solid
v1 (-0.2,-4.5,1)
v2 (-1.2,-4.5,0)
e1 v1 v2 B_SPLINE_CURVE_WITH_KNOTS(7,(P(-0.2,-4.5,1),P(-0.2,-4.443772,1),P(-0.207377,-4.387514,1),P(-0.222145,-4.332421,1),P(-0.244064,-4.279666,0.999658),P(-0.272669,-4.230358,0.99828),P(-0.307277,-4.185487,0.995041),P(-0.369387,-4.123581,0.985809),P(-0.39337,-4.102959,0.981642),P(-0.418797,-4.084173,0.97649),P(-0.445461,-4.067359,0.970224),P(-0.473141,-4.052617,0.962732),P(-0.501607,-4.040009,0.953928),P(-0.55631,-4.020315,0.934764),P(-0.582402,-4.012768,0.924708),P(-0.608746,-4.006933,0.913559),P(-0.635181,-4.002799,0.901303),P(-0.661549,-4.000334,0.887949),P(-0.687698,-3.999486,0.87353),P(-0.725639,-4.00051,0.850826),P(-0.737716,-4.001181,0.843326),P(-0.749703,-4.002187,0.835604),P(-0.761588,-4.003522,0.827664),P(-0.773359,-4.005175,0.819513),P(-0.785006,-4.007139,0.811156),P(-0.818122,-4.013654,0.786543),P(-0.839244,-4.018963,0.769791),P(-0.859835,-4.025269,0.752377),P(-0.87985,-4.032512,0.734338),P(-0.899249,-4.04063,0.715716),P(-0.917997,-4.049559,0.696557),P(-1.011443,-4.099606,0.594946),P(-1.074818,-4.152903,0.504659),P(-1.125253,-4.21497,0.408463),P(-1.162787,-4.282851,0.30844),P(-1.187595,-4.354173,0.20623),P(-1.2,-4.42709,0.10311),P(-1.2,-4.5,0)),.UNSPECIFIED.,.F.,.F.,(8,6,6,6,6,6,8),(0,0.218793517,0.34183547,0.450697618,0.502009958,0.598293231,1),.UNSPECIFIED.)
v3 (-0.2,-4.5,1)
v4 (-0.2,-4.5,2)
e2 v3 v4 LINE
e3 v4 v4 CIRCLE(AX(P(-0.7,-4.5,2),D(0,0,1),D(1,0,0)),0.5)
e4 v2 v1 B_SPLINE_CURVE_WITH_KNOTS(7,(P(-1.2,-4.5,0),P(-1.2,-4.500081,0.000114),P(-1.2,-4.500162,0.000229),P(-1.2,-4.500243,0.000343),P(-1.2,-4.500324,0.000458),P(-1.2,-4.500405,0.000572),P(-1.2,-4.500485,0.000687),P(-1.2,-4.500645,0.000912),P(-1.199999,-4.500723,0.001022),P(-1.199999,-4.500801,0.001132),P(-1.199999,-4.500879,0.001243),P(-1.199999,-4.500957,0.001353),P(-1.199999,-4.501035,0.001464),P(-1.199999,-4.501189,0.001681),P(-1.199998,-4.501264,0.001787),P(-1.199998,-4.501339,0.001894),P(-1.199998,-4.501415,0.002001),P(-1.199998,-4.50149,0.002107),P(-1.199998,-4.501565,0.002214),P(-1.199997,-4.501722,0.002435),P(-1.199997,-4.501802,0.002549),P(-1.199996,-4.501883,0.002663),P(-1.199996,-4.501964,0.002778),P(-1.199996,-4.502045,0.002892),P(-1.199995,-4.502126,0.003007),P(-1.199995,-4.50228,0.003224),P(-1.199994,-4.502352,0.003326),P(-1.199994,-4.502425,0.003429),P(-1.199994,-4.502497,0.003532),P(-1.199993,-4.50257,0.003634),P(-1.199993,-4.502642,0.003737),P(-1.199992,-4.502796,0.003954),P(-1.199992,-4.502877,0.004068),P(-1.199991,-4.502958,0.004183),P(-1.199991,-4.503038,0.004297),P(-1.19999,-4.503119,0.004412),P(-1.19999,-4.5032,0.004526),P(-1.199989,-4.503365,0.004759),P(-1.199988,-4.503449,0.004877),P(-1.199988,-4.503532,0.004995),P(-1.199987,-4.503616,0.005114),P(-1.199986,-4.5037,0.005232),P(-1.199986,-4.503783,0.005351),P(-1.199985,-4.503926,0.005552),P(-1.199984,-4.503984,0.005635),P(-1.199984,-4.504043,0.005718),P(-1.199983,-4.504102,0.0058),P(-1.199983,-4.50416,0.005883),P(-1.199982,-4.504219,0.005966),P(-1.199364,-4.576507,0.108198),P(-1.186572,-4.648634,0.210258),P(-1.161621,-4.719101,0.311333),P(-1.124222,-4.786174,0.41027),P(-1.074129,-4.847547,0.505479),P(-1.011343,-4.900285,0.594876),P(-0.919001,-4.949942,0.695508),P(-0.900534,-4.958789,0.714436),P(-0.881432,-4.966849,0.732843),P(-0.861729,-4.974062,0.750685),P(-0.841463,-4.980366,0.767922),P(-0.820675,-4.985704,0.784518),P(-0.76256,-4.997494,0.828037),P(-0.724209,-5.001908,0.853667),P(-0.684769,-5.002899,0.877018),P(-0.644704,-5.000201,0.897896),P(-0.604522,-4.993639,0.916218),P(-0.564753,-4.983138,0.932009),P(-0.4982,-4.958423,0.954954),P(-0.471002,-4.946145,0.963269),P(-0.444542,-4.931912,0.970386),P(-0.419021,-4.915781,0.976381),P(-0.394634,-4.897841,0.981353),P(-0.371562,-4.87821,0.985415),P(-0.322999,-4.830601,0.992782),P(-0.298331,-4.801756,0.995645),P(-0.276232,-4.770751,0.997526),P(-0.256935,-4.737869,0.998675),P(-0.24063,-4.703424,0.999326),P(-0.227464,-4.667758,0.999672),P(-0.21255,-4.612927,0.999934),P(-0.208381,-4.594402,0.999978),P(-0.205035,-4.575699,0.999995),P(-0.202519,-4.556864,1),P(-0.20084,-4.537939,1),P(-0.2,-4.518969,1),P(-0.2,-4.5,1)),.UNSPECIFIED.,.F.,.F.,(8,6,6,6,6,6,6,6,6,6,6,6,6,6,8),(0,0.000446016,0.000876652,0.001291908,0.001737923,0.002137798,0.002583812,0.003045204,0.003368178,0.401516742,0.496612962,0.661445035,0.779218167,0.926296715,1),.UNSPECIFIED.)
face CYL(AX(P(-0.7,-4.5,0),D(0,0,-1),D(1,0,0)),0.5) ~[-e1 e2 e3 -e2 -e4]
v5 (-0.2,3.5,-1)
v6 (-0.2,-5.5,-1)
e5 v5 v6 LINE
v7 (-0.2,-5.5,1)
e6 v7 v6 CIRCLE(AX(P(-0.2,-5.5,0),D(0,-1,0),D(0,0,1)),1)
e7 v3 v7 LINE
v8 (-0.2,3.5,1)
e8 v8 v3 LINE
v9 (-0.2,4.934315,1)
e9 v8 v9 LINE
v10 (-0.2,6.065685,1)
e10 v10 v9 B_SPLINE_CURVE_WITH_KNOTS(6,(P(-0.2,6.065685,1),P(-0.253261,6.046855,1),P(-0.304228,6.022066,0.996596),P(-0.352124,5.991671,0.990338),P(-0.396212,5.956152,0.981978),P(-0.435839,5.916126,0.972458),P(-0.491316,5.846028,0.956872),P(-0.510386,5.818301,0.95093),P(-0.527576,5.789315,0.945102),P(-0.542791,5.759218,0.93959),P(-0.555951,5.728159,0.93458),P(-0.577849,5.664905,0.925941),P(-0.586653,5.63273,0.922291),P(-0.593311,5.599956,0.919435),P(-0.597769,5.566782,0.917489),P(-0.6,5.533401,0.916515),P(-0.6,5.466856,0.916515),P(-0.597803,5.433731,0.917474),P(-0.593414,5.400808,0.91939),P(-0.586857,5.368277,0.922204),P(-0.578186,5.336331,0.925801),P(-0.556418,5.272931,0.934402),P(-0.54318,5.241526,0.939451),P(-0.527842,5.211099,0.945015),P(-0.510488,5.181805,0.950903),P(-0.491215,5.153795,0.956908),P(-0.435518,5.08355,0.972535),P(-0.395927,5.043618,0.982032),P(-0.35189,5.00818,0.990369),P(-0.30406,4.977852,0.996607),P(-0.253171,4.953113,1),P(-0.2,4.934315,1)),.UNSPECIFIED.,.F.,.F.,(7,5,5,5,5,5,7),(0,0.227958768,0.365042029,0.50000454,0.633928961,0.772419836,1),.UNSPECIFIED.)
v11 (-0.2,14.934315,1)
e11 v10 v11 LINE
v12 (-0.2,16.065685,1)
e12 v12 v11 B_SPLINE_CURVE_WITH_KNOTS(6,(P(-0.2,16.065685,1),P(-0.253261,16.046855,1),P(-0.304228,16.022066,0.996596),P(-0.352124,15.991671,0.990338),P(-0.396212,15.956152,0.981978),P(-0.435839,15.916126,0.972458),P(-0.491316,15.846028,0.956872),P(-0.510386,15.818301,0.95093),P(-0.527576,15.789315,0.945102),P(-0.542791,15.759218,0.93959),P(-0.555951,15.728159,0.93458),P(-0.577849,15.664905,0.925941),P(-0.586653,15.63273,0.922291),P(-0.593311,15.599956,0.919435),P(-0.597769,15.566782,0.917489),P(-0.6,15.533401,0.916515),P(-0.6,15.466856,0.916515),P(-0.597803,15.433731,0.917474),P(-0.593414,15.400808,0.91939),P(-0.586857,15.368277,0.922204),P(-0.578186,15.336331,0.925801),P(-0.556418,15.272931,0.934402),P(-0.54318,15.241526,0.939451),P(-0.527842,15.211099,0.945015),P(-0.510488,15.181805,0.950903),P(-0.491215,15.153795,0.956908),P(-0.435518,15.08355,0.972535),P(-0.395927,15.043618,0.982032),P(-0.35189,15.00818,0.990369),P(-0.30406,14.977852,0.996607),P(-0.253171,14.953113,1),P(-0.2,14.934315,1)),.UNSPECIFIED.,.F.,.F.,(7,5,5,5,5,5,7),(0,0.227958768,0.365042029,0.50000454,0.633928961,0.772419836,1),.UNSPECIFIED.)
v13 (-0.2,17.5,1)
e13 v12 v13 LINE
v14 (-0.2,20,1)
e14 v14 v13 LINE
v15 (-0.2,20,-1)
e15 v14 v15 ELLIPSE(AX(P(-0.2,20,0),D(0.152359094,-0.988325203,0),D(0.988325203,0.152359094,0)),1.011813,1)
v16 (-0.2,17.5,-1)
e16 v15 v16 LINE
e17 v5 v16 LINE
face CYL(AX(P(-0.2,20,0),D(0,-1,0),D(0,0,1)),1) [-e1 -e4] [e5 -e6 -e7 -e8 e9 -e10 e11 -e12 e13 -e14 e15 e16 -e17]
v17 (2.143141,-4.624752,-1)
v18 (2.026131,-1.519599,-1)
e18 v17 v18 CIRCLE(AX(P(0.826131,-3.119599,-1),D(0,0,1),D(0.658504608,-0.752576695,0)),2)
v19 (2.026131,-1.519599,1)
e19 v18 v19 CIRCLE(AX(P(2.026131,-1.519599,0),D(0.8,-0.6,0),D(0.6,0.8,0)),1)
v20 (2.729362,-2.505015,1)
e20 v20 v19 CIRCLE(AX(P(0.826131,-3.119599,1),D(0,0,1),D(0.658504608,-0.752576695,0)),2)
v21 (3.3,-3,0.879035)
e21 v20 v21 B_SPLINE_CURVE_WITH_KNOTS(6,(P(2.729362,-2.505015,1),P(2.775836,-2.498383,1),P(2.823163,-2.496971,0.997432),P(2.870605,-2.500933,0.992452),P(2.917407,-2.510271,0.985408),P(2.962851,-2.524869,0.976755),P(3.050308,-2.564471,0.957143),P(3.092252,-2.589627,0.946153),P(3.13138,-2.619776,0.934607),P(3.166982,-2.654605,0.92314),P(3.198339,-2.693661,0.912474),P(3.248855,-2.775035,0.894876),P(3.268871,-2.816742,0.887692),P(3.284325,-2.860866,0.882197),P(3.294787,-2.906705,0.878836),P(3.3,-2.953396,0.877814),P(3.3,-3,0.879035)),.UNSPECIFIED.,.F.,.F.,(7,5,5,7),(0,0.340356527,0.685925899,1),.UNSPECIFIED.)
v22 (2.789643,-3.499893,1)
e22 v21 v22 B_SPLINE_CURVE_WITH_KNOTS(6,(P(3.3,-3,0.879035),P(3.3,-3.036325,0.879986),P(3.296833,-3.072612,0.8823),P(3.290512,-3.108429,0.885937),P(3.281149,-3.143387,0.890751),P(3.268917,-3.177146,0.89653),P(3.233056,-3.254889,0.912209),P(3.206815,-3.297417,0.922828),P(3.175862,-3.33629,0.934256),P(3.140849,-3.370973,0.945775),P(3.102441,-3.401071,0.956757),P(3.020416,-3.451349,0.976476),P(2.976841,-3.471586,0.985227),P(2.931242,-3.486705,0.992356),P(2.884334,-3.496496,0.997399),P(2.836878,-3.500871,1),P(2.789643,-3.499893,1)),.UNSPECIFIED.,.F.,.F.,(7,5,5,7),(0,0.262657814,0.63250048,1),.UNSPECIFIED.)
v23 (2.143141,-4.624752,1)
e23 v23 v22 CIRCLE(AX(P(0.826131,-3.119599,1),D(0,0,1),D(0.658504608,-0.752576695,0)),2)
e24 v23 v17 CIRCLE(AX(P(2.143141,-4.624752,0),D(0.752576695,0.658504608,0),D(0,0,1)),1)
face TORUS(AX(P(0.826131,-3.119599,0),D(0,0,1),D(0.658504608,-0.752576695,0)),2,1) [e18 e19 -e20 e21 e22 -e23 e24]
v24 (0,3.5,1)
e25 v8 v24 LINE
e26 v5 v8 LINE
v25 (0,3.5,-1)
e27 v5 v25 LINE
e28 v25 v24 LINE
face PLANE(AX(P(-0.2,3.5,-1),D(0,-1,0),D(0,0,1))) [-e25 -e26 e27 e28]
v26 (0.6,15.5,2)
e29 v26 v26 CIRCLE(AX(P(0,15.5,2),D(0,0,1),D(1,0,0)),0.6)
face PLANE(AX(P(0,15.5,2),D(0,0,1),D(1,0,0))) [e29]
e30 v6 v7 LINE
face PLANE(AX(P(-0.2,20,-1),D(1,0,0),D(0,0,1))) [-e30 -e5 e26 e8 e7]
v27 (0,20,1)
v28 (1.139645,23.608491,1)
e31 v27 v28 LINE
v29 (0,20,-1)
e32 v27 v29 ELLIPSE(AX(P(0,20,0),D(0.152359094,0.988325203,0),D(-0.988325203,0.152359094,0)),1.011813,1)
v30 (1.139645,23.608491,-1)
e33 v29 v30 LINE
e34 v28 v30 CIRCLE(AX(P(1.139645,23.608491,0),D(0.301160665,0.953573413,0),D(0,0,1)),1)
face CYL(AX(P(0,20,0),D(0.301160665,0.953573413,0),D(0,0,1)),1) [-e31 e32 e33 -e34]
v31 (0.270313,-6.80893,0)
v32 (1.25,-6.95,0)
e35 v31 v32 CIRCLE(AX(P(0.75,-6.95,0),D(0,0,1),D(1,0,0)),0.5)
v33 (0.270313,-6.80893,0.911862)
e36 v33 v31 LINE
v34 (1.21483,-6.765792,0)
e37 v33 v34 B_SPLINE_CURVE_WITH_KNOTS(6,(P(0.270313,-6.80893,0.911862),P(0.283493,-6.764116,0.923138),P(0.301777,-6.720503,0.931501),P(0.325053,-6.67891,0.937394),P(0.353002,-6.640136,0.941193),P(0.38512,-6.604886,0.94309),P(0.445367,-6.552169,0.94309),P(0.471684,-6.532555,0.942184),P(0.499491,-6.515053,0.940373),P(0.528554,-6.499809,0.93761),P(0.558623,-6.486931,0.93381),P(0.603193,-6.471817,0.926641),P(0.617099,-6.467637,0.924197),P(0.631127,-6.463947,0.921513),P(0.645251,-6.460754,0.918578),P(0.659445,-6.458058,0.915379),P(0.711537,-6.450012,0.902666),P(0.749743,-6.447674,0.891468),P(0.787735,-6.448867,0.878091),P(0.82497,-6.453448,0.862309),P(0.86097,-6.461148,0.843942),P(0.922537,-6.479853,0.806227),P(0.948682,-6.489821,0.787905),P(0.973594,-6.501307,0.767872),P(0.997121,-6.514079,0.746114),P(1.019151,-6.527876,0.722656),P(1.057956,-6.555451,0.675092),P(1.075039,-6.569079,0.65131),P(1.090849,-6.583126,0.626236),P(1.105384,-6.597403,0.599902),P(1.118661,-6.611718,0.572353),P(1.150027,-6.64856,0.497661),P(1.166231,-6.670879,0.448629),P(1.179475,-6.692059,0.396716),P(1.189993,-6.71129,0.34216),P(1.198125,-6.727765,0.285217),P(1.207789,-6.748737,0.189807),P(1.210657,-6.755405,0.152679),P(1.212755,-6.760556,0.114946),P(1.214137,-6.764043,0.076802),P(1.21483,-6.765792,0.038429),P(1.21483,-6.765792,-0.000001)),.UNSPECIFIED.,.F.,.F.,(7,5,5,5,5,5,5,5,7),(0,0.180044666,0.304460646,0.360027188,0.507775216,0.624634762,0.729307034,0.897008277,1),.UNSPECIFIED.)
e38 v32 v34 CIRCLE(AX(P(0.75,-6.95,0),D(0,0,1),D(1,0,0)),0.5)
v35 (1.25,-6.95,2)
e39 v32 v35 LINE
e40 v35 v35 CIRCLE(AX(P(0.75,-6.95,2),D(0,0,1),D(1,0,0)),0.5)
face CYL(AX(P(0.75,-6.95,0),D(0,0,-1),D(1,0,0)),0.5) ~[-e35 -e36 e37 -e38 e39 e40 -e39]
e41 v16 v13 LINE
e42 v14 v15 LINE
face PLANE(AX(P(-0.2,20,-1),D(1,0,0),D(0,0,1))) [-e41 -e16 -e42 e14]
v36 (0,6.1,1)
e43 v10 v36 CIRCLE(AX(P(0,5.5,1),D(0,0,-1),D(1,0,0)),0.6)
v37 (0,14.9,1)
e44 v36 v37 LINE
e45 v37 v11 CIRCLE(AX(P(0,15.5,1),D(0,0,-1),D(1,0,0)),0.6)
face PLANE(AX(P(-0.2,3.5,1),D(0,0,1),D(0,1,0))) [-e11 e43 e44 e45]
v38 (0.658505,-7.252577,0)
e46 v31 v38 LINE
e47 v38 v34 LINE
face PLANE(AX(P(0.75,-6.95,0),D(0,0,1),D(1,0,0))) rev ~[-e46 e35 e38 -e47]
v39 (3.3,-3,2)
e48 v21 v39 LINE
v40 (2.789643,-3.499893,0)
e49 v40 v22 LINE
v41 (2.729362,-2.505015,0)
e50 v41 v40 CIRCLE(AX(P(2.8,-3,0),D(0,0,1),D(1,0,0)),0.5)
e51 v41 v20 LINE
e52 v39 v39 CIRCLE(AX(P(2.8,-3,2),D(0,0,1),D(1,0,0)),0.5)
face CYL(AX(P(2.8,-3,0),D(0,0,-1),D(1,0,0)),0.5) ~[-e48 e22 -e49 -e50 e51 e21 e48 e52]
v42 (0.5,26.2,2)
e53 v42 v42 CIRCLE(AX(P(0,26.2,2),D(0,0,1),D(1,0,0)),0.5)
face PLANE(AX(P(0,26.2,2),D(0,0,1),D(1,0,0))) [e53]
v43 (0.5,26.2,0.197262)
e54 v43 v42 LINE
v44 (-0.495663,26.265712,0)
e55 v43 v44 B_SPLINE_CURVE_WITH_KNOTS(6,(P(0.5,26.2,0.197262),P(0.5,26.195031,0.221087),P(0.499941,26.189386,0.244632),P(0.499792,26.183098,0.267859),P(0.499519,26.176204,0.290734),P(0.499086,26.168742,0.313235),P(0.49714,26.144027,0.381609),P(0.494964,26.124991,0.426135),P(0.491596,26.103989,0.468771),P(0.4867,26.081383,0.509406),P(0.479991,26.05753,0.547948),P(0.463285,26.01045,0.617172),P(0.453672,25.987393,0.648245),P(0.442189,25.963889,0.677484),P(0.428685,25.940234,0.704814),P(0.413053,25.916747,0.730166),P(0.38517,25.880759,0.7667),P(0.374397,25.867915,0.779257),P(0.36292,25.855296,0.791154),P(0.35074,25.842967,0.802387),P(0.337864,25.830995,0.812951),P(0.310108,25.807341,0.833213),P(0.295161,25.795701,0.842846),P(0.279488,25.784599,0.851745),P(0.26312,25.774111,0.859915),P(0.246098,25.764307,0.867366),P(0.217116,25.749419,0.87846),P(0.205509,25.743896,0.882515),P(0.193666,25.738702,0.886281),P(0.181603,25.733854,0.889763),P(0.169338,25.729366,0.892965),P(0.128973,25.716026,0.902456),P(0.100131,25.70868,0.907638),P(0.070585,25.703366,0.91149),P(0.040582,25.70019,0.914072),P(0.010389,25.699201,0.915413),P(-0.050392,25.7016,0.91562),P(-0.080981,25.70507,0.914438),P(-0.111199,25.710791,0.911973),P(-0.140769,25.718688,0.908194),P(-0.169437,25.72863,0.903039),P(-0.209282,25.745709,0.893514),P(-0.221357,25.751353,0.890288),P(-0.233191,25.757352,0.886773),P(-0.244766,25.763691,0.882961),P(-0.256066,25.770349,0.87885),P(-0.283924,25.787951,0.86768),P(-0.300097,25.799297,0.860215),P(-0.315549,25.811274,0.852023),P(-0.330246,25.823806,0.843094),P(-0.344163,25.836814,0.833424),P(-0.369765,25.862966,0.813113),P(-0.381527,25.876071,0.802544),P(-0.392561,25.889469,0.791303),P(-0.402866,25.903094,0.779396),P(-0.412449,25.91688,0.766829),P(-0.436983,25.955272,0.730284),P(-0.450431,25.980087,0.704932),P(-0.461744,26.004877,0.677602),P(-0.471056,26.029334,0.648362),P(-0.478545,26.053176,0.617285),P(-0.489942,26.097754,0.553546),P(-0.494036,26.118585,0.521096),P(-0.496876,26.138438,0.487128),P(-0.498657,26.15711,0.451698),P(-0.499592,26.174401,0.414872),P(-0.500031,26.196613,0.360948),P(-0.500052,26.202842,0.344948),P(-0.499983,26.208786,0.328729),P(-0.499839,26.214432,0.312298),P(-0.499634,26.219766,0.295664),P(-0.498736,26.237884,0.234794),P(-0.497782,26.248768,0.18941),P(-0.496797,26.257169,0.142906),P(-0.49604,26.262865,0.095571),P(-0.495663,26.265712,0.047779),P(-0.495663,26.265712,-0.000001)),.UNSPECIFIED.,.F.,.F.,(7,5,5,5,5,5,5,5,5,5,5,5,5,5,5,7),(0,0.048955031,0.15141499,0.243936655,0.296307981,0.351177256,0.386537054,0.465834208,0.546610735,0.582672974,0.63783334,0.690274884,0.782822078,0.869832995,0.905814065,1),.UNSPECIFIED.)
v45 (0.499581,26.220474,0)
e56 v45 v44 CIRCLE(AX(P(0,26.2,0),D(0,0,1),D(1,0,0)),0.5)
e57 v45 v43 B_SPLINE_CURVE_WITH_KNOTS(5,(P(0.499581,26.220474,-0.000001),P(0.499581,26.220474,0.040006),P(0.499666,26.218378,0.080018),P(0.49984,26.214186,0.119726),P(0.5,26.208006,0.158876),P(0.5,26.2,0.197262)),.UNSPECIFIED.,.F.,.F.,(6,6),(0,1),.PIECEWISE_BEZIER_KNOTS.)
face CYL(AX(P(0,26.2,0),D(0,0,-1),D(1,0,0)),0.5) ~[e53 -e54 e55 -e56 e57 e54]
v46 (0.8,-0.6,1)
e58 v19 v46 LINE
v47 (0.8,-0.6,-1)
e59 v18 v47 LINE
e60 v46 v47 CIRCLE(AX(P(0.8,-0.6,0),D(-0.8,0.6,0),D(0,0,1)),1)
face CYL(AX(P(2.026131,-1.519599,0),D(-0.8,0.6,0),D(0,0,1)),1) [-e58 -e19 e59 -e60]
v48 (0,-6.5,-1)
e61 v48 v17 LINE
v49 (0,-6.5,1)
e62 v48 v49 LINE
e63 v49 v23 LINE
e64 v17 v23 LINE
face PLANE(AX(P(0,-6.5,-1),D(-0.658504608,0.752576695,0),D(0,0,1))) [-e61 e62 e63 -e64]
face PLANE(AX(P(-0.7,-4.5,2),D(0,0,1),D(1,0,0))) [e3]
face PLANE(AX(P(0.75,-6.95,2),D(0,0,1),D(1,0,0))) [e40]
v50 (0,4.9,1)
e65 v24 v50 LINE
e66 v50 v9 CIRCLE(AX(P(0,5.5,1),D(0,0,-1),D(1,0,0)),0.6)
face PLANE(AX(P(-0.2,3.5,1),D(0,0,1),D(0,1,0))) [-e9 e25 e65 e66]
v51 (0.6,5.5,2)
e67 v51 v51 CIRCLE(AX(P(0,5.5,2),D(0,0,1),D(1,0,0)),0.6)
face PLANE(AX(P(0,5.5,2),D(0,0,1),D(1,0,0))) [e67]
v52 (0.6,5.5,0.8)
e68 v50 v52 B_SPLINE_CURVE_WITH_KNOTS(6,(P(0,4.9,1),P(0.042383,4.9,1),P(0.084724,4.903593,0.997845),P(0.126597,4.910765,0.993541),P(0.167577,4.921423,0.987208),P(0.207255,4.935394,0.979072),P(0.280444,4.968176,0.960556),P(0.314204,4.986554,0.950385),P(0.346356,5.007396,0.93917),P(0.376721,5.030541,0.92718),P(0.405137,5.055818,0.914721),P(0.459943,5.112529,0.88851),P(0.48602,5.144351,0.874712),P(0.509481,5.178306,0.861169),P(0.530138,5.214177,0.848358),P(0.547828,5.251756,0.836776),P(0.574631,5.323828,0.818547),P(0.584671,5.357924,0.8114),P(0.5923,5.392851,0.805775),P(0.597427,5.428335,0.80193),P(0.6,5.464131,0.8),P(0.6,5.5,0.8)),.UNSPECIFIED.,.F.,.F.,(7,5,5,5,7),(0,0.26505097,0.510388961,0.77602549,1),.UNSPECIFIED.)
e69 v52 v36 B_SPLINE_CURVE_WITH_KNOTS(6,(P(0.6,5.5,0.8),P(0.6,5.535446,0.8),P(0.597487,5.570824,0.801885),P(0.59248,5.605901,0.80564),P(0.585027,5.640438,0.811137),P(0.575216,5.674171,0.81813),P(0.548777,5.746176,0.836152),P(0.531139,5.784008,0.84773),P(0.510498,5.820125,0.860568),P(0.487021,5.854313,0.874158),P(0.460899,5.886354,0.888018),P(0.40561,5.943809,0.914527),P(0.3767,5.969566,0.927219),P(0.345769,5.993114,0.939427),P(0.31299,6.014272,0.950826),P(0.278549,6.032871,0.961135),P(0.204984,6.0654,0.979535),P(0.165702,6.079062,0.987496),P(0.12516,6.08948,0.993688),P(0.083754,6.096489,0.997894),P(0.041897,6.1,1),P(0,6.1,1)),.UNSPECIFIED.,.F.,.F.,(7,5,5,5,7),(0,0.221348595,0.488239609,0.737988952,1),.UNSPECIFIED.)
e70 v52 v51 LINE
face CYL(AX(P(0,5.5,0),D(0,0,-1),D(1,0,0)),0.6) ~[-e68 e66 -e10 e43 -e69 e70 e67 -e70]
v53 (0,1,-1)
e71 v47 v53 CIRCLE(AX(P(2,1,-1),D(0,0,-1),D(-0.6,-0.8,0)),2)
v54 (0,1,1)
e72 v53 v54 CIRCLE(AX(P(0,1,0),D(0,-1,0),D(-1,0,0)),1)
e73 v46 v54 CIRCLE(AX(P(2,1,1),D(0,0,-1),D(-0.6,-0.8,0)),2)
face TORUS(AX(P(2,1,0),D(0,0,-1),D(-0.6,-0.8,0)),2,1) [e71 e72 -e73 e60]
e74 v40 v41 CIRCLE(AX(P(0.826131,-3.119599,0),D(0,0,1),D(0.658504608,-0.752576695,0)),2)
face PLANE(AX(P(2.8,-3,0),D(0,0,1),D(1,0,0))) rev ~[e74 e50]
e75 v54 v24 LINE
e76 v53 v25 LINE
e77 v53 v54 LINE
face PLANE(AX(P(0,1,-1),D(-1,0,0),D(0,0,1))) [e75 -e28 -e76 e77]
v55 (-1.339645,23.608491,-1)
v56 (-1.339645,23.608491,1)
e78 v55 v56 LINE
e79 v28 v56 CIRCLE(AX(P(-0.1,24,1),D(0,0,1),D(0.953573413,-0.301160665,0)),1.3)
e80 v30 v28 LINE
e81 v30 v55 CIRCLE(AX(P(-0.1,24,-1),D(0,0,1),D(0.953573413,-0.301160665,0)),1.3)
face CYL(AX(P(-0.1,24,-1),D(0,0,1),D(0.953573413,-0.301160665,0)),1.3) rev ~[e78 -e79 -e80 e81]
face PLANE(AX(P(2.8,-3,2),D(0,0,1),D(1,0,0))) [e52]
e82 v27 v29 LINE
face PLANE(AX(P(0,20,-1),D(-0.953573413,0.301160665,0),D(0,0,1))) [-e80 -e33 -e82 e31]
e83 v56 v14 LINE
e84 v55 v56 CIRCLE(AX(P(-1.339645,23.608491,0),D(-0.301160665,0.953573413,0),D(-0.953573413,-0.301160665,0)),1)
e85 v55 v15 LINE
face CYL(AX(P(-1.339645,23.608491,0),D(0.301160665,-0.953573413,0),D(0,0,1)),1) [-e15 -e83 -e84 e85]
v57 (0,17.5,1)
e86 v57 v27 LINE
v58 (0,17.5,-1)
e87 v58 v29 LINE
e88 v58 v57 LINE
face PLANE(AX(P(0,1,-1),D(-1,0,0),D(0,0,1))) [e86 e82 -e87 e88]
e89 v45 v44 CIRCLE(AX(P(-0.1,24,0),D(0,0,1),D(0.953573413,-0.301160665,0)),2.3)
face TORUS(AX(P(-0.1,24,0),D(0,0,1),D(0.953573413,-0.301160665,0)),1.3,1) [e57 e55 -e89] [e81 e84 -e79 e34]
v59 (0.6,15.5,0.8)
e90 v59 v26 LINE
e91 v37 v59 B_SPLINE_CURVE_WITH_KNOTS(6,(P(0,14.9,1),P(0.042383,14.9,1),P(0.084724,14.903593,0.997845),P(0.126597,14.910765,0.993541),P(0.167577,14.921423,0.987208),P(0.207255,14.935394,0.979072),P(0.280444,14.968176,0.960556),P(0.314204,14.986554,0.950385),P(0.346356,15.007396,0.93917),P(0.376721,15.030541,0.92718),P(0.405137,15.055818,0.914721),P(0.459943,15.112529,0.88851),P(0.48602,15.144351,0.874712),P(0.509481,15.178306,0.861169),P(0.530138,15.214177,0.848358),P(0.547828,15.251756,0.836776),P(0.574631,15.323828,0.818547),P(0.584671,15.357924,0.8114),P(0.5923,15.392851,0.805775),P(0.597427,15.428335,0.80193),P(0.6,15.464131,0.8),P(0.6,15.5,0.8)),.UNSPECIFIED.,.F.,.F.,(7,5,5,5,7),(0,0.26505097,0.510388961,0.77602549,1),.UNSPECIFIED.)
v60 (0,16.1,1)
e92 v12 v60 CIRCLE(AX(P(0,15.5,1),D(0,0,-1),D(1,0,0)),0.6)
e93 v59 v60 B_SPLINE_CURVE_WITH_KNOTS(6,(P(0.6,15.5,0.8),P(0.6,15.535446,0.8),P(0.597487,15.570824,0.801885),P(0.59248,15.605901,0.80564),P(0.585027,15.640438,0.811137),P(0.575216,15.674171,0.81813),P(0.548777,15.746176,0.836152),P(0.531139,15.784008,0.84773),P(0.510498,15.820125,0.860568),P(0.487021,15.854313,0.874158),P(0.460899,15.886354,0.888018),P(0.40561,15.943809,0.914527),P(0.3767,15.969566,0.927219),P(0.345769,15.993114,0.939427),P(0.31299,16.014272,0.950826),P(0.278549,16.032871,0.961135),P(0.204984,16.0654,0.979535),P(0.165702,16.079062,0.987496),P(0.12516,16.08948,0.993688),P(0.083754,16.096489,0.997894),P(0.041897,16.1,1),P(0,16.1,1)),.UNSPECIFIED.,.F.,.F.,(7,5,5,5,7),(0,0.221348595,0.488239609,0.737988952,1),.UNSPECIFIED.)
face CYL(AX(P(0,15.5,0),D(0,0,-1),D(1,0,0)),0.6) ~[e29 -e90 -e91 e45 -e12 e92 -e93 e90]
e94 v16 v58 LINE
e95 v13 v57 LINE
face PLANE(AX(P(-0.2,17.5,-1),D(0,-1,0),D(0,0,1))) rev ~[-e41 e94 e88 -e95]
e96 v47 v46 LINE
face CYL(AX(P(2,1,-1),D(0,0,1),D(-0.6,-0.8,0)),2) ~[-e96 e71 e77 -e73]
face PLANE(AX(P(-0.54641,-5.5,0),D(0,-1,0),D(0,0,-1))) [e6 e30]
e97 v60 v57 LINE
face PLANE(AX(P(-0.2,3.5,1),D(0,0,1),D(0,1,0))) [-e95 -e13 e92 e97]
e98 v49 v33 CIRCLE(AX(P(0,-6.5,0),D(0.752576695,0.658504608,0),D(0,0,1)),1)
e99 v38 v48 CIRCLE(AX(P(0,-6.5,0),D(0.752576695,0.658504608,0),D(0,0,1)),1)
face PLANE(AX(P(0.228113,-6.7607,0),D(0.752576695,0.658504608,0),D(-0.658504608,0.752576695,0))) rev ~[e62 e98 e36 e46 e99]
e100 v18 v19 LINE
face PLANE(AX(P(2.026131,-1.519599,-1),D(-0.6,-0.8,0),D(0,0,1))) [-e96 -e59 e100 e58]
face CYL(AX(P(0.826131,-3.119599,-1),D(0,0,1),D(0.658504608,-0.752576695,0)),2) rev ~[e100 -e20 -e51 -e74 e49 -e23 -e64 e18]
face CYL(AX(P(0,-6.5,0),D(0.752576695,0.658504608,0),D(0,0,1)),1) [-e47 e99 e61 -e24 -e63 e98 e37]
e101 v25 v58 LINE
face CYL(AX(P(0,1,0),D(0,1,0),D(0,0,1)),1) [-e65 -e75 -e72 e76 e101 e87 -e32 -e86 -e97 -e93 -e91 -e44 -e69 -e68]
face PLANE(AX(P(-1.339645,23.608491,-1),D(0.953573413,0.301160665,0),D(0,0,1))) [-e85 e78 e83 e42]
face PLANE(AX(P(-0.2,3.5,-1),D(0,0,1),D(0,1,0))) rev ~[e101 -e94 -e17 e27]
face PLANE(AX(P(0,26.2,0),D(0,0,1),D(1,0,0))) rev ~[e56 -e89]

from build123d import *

# Parameters (mm, degrees)
F4_W     = 14
F4_H     = 2
F5_DEPTH = 0.2
F6_R     = 0.6
F6_R_2   = 0.5
F7_DEPTH = 2


with BuildPart() as f3:
    # F3: sweep along a path in F0
    with BuildLine(Plane.XY) as f3_path:
        Line((0, -6.5), (2.1431406292, -4.6247519495))
        ThreePointArc((2.1431406292, -4.6247519495), (2.8247129707, -3.0442874784), (2.0261314134, -1.5195985601))
        Line((2.0261314134, -1.5195985601), (0.8, -0.6))
        ThreePointArc((0.8, -0.6), (0.211145618, 0.105572809), (0, 1))
        Line((0, 1), (0, 20))
        Line((0, 20), (1.1396454369, 23.6084911359))
        ThreePointArc((1.1396454369, 23.6084911359), (-0.1, 25.3), (-1.3396454369, 23.6084911359))
        Line((-1.3396454369, 23.6084911359), (-0.2, 20))
        Line((-0.2, 20), (-0.2, 0))
        Line((-0.2, 0), (-0.2, -5.5))
    # F2 (on plane+point) → F3 (sweep)
    with BuildSketch(Plane.XZ.offset(5.5)):
        with BuildLine():
            Line((-0.2, 0), (-0.2, 1))
            ThreePointArc((-0.2, 1), (-1.2, 0), (-0.2, -1))
            Line((-0.2, -1), (-0.2, 0))
        make_face()
    sweep(path=f3_path.line, transition=Transition.RIGHT)

    # F4 (on face) → F5 (join, through all)
    with BuildSketch(Plane.YZ.offset(-0.2)):
        with Locations((10.5, 0)):
            Rectangle(F4_W, F4_H)
    extrude(amount=F5_DEPTH)

    # F6 (on Top) → F7 (join)
    with BuildSketch(Plane.XY):
        with Locations((0, 15.5)):
            Circle(F6_R)
        with Locations((0, 5.5)):
            Circle(F6_R)
        with Locations((0, 26.2)):
            Circle(F6_R_2)
        with Locations((2.8, -3)):
            Circle(F6_R_2)
        with Locations((-0.7, -4.5)):
            Circle(F6_R_2)
        with Locations((0.75, -6.95)):
            Circle(F6_R_2)
    extrude(amount=F7_DEPTH)


solid = f3.part
